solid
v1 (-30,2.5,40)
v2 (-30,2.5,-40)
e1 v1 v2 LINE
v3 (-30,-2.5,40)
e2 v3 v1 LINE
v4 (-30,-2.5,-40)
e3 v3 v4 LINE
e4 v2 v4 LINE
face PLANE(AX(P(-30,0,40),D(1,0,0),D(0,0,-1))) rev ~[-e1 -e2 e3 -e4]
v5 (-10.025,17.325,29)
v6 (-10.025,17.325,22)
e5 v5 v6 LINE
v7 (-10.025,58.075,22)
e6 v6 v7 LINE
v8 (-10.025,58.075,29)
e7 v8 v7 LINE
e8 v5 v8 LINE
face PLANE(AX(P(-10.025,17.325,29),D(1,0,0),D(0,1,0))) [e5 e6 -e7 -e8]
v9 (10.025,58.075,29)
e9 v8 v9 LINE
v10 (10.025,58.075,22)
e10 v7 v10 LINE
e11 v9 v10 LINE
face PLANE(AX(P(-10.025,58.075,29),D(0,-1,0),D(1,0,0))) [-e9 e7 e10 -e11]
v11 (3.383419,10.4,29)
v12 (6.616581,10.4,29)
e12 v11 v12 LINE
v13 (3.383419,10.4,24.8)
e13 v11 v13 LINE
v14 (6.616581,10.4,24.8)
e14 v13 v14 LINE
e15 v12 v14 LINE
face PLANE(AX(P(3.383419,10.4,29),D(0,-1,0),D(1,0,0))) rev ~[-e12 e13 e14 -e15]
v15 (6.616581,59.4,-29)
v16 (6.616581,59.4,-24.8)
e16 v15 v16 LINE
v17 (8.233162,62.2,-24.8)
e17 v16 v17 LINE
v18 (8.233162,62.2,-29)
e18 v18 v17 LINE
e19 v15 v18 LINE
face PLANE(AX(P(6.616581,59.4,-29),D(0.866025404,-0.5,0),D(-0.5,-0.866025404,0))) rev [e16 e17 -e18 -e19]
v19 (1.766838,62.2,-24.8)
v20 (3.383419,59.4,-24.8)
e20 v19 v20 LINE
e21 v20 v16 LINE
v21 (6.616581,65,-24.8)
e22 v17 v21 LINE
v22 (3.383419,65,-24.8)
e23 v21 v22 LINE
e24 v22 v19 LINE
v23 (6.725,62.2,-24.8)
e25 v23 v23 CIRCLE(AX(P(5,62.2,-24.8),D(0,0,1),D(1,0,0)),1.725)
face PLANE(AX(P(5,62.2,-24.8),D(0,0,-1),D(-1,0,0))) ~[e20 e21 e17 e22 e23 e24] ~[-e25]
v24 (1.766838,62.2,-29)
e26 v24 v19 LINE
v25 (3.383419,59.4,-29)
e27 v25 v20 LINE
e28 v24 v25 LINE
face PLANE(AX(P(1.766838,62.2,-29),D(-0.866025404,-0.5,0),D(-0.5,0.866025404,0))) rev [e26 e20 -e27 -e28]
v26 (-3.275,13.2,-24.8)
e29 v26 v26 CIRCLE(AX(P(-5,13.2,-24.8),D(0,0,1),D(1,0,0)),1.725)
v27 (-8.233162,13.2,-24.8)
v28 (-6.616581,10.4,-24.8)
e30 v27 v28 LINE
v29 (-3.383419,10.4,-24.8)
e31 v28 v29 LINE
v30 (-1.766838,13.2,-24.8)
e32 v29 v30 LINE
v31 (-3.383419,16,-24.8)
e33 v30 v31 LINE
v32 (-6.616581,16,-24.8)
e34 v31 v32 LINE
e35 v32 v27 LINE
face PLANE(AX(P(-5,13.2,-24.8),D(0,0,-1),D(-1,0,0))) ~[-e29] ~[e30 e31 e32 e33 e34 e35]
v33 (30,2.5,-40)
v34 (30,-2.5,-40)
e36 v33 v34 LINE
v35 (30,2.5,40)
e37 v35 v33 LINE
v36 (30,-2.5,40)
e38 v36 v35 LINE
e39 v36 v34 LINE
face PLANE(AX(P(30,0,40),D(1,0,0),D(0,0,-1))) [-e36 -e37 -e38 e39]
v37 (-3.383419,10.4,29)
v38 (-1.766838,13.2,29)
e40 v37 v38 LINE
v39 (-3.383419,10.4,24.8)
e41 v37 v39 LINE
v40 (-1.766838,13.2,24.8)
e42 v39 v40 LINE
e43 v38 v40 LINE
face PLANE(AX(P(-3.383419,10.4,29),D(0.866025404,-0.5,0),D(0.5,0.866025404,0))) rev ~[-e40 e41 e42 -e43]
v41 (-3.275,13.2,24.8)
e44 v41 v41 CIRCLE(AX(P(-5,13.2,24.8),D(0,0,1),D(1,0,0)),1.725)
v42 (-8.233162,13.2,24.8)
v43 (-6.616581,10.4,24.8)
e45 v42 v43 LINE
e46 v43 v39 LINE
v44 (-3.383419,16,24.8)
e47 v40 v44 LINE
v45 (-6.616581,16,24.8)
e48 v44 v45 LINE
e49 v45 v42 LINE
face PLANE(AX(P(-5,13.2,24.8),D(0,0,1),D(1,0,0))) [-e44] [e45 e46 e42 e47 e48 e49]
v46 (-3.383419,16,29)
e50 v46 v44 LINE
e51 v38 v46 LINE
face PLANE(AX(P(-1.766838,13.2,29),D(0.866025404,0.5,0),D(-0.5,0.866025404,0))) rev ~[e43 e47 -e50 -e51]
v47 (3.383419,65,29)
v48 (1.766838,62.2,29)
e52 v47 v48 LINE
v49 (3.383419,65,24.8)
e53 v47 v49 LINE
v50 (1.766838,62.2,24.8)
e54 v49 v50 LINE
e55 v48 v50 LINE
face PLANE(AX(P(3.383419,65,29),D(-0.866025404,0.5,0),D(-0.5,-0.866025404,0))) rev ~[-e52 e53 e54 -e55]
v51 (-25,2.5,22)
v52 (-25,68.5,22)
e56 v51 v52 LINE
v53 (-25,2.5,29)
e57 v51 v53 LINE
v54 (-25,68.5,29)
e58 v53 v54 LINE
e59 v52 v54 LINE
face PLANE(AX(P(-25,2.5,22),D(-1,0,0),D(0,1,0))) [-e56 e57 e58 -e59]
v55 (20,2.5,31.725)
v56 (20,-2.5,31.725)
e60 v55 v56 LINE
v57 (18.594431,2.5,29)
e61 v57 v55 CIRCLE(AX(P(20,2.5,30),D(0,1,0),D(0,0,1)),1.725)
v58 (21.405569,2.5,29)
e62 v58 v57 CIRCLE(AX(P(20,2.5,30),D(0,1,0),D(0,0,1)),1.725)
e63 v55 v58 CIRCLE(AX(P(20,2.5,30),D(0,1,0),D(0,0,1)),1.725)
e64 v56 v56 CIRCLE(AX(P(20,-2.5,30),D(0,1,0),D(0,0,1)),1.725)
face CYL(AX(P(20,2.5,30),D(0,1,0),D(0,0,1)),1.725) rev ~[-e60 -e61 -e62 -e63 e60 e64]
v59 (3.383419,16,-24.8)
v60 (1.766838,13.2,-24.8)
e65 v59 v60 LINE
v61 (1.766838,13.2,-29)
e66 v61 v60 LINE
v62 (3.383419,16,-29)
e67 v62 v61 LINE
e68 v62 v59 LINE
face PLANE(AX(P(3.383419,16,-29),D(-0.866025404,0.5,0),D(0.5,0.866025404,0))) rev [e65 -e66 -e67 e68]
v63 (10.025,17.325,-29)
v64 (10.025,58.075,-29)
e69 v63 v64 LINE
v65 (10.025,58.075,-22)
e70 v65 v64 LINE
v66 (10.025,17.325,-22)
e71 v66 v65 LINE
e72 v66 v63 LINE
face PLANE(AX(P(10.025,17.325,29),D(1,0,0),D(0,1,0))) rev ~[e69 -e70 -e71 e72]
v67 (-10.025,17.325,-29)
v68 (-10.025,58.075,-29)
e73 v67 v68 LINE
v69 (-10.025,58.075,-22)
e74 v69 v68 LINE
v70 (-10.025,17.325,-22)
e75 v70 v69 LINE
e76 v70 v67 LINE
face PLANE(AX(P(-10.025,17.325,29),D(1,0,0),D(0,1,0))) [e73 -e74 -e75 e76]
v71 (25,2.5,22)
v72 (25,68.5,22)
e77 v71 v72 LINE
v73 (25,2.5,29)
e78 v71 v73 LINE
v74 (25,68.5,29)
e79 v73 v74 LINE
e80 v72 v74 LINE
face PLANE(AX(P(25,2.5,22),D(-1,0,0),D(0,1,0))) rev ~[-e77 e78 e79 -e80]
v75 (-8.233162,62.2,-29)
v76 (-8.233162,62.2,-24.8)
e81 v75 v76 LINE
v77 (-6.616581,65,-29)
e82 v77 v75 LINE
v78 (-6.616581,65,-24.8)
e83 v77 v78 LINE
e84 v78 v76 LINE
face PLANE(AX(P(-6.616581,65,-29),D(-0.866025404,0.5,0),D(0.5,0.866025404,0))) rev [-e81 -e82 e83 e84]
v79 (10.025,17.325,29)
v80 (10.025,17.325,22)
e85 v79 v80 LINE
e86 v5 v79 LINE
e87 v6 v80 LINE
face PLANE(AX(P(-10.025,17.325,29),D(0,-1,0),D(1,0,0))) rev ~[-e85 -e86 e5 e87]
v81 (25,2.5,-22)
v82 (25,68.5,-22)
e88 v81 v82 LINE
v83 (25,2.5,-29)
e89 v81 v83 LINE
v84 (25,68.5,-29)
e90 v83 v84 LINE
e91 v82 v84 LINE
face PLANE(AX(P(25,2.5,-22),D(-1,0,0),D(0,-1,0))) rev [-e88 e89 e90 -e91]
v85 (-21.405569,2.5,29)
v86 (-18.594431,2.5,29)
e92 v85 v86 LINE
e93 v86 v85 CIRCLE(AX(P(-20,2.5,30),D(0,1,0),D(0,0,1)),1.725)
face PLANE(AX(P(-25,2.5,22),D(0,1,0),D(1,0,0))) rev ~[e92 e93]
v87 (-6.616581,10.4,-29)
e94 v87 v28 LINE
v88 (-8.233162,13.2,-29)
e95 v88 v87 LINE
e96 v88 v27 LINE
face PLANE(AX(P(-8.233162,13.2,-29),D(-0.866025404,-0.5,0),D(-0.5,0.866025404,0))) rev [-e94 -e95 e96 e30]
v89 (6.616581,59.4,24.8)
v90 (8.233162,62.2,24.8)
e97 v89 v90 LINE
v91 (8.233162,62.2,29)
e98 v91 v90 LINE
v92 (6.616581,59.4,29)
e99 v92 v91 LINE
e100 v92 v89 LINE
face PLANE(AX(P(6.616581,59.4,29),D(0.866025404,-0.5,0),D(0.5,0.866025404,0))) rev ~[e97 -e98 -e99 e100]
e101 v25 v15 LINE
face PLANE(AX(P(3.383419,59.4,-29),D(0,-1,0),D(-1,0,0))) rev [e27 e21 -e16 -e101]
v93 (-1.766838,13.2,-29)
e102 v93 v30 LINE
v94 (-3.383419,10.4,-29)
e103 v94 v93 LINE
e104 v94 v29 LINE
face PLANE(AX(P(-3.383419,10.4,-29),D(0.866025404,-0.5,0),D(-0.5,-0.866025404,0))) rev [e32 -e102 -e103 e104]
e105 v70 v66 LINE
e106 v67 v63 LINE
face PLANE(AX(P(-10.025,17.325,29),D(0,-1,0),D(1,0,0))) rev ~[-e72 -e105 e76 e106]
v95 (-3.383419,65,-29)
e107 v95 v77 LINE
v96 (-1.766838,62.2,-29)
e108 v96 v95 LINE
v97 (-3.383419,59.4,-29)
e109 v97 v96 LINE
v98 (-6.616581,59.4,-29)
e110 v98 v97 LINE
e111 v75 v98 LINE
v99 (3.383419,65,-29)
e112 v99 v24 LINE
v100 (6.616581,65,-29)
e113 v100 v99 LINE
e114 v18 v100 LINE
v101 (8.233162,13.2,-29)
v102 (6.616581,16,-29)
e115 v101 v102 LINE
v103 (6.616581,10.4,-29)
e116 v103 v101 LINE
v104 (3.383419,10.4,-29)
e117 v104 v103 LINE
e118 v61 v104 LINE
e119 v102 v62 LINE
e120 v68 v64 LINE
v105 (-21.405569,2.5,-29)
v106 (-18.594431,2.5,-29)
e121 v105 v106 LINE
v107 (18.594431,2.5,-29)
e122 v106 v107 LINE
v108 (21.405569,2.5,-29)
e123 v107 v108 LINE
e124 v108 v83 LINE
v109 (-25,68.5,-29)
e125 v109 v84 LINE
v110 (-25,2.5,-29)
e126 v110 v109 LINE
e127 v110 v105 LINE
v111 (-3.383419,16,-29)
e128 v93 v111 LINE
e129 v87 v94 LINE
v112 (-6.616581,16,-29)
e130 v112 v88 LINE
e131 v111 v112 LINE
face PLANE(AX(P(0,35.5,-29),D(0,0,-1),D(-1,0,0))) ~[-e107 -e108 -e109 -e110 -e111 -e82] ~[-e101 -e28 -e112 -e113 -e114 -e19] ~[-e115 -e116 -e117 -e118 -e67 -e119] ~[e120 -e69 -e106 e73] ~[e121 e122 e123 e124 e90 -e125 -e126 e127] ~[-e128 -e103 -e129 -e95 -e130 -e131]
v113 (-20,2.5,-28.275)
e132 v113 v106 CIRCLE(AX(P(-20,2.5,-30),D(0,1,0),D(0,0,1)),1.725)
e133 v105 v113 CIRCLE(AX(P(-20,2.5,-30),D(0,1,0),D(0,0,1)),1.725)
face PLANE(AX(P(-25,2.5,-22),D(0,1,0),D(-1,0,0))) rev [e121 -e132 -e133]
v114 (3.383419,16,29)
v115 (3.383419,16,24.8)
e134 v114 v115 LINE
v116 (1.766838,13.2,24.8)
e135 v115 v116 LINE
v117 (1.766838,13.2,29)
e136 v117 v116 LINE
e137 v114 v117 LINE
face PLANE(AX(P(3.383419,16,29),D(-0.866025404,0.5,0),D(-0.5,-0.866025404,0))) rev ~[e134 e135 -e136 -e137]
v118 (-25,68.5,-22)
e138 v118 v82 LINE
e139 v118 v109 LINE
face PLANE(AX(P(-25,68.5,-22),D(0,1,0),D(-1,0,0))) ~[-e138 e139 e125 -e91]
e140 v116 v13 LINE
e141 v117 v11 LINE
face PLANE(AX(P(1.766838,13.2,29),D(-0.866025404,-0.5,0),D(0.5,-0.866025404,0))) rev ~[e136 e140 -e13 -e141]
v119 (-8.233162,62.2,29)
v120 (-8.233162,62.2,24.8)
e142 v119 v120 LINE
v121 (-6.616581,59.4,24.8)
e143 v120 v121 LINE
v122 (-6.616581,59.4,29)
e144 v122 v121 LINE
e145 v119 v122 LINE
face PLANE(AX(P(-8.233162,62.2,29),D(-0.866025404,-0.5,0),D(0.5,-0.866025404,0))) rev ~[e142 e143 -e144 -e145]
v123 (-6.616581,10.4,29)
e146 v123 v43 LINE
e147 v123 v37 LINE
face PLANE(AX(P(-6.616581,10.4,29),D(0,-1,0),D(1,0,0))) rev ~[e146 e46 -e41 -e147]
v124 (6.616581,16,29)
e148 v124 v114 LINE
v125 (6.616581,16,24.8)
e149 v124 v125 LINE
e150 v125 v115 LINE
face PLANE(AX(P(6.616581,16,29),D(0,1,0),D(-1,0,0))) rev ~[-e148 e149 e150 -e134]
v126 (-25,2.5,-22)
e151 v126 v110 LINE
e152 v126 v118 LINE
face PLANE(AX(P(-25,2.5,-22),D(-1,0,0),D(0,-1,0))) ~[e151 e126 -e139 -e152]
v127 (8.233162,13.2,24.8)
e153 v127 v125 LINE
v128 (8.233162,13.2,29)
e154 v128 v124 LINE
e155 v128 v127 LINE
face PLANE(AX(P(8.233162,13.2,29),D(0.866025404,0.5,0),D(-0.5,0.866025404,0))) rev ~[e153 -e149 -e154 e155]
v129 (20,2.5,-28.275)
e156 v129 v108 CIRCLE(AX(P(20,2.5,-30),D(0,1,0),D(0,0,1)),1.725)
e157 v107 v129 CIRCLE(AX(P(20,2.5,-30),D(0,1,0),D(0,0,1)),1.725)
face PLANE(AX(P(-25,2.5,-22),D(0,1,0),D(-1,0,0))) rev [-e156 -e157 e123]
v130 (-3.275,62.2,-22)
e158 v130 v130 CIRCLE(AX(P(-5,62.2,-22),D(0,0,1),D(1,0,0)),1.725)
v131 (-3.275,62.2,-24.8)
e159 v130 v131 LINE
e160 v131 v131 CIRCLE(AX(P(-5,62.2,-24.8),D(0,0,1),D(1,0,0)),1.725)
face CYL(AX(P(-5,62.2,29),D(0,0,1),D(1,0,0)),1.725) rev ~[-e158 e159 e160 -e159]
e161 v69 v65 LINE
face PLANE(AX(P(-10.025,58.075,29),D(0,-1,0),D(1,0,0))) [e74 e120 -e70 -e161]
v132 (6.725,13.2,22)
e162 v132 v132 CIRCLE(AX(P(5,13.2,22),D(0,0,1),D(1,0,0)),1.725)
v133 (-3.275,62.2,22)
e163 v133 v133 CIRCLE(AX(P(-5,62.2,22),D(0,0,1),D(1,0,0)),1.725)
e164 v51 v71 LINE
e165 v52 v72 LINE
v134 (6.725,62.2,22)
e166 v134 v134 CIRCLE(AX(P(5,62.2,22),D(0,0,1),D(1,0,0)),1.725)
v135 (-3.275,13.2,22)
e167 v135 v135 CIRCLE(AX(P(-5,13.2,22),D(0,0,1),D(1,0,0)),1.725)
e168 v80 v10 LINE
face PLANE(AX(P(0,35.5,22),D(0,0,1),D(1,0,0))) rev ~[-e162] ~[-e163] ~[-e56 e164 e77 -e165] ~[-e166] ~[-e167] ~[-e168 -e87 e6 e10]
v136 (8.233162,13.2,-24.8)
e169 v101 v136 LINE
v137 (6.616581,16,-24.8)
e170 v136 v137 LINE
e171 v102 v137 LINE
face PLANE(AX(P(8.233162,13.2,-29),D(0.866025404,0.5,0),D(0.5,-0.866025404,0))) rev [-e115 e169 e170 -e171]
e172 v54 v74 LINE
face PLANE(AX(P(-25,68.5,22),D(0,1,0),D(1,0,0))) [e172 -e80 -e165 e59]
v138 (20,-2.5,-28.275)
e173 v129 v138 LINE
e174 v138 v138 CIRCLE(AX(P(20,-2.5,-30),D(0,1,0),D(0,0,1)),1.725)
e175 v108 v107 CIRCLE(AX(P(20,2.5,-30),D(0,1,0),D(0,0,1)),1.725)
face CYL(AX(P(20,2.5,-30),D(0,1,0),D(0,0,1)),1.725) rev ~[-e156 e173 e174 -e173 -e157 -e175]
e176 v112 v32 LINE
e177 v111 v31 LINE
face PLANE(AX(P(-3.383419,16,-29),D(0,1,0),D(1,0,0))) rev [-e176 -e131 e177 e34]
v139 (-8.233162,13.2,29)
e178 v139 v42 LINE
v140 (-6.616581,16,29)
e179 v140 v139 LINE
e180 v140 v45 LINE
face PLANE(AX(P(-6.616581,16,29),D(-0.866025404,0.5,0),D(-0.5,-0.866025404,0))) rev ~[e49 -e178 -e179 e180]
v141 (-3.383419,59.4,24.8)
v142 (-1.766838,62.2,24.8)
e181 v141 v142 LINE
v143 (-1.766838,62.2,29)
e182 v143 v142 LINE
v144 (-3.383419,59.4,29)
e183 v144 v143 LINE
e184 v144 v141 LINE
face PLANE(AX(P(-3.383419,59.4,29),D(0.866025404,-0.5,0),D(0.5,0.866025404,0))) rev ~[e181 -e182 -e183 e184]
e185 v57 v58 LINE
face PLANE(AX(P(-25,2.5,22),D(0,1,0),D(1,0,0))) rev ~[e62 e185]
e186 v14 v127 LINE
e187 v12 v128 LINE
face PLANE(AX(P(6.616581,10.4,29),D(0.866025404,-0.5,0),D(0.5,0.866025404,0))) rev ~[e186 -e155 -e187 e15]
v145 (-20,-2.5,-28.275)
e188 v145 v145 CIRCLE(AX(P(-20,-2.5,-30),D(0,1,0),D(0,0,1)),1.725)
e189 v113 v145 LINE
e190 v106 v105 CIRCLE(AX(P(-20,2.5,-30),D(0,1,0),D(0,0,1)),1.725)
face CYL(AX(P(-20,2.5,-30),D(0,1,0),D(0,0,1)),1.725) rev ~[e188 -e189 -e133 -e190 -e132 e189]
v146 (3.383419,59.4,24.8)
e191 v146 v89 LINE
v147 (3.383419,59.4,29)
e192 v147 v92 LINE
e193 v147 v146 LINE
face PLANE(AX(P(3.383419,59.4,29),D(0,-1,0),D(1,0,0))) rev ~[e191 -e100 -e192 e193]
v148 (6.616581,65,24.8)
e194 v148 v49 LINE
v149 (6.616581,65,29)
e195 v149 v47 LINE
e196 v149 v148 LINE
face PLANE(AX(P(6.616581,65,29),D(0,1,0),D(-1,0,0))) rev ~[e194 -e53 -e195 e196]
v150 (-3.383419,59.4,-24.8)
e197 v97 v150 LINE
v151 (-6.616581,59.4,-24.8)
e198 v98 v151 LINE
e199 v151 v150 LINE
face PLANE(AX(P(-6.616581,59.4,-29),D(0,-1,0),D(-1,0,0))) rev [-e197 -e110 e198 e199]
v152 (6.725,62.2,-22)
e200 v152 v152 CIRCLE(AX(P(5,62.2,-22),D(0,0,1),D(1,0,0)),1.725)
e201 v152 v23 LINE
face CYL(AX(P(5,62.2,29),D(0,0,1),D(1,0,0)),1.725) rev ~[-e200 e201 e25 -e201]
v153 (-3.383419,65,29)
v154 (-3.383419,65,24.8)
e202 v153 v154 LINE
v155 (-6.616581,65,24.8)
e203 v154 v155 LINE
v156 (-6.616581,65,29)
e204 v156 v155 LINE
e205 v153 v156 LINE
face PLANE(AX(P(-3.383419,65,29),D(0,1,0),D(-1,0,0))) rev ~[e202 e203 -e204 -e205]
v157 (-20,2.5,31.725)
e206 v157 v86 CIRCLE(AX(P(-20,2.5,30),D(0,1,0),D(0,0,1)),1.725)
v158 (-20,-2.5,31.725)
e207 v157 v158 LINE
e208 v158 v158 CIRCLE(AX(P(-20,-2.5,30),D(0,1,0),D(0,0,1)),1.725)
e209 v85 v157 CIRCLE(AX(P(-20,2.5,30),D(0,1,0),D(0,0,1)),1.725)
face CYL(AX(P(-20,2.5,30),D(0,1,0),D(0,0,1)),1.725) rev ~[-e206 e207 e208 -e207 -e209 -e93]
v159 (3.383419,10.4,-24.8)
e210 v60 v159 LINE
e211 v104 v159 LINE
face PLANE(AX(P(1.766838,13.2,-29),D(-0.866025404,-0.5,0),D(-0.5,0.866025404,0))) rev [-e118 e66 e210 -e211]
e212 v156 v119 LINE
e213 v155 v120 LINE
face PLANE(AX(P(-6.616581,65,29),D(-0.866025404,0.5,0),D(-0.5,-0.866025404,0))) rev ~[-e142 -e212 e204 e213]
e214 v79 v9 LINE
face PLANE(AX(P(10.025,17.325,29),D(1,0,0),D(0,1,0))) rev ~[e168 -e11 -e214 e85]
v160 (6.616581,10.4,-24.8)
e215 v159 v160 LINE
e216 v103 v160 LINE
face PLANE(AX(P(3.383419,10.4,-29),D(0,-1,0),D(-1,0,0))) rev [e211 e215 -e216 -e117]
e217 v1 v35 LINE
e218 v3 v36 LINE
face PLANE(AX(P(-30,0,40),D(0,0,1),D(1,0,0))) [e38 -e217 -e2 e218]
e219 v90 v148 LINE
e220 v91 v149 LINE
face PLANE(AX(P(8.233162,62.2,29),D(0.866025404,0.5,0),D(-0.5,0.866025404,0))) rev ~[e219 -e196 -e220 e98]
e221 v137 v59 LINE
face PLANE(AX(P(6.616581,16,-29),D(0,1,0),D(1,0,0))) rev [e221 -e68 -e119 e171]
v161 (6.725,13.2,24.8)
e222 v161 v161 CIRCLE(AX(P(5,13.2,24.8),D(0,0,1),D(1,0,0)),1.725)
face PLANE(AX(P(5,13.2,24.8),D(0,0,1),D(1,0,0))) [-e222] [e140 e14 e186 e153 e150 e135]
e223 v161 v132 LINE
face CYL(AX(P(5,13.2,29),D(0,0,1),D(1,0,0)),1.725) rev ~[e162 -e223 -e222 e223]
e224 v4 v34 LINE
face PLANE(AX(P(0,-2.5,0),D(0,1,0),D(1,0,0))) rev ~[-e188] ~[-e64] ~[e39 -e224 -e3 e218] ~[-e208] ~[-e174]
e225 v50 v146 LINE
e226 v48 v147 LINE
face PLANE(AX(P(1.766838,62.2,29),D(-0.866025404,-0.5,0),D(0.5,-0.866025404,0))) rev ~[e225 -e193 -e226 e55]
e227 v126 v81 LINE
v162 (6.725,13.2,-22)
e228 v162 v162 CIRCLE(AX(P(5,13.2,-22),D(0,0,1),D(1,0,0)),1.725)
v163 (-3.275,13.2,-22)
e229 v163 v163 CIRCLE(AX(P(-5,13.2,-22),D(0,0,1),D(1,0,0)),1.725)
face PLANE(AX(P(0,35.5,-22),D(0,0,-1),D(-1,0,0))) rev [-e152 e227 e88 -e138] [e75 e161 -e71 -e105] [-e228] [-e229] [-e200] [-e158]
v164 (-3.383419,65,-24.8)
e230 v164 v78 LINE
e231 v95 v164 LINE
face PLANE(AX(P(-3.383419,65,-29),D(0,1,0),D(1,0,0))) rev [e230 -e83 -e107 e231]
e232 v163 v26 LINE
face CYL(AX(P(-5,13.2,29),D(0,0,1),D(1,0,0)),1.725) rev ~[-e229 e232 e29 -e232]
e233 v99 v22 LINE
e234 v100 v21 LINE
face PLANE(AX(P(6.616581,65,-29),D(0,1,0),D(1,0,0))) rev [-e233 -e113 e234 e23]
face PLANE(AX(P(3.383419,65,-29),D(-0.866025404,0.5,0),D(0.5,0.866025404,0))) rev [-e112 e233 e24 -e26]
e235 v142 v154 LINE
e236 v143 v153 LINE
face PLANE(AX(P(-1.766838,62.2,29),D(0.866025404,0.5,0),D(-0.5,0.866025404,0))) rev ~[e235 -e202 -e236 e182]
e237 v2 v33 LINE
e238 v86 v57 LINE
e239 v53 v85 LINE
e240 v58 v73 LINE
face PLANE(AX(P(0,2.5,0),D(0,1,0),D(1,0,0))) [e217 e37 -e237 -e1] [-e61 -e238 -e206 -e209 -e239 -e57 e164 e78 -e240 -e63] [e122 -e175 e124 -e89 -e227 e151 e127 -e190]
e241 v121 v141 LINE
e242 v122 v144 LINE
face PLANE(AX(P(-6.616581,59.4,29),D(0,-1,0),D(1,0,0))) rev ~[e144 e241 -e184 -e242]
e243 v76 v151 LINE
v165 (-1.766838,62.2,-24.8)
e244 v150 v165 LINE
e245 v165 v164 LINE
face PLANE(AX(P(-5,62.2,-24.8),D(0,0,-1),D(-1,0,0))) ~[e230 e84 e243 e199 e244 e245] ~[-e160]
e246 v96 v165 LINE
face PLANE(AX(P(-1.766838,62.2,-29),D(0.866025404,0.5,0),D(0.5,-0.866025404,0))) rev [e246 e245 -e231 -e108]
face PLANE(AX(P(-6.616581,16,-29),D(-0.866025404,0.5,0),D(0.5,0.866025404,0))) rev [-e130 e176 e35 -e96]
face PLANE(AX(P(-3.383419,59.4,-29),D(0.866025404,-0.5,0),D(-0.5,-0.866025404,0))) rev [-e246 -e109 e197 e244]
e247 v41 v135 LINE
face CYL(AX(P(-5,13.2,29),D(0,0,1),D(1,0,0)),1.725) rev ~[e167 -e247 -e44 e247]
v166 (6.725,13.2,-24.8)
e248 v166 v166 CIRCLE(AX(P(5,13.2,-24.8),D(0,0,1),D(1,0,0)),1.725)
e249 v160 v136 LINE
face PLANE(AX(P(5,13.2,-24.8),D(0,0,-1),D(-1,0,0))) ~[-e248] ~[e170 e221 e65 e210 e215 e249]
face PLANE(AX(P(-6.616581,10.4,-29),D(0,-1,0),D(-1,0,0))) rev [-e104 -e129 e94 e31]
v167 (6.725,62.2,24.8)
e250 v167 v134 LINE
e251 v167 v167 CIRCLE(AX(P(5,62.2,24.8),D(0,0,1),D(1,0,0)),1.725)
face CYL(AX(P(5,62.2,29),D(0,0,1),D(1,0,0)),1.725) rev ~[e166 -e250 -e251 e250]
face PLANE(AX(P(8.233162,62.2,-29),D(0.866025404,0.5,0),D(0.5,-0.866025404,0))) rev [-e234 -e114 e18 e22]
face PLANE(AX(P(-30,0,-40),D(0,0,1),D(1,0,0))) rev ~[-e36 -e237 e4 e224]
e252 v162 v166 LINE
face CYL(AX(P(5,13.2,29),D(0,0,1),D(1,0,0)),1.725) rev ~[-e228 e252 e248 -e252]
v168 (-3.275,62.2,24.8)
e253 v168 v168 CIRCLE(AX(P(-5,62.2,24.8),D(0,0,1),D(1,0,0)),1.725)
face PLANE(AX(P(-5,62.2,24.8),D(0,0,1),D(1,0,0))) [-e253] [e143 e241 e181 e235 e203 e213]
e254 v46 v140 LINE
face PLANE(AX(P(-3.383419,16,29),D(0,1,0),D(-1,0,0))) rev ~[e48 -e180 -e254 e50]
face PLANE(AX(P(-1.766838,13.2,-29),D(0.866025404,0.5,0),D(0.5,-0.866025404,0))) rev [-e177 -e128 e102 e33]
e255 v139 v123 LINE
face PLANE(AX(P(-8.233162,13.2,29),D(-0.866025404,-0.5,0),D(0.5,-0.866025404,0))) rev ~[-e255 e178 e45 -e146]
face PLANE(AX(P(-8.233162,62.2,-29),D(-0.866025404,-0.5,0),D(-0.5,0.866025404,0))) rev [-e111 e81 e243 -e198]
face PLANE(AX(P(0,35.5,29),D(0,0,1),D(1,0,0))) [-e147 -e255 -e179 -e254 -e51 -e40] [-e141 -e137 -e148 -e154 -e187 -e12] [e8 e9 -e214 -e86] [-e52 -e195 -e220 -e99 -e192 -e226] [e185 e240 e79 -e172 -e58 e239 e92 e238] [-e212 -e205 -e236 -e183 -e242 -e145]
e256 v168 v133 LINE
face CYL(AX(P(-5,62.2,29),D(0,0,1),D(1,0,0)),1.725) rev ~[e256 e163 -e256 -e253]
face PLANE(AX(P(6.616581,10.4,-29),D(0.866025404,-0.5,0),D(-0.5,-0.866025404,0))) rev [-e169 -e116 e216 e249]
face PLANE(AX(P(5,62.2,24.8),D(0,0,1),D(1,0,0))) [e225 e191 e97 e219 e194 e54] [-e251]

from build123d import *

# Parameters (mm, degrees)
SKETCH1_W           = 60
SKETCH1_H           = 80
BOSS_EXTRUDE1_DEPTH = 2.5
SKETCH2_R           = 1.725
CUT_EXTRUDE1_DEPTH  = 51.249378106
SKETCH3_W           = 50
SKETCH3_H           = 66
BOSS_EXTRUDE2_DEPTH = 7
SKETCH4_W           = 20.05
SKETCH4_H           = 40.75
CUT_EXTRUDE2_DEPTH  = 102.750921372
SKETCH5_R           = 1.725
CUT_EXTRUDE3_DEPTH  = 102.750921372
CUT_EXTRUDE4_DEPTH  = 4.2


with BuildPart() as part:
    # Sketch1 → Boss-Extrude1 (new, symmetric)
    with BuildSketch(Plane(origin=(0, 0, 0), x_dir=(1, 0, 0), z_dir=(0, 1, 0))):
        Rectangle(SKETCH1_W, SKETCH1_H)
    extrude(amount=BOSS_EXTRUDE1_DEPTH, both=True)

    # Sketch2 → Cut-Extrude1 (cut, through all)
    with BuildSketch(Plane(origin=(0, 2.5, 0), x_dir=(1, 0, 0), z_dir=(0, 1, 0))):
        with Locations(Location((-20, 30, 0), (0, 0, 270))):
            Circle(SKETCH2_R)
        with Locations(Location((20, 30, 0), (0, 0, 270))):
            Circle(SKETCH2_R)
        with Locations(Location((20, -30, 0), (0, 0, 270))):
            Circle(SKETCH2_R)
        with Locations(Location((-20, -30, 0), (0, 0, 270))):
            Circle(SKETCH2_R)
    extrude(amount=-CUT_EXTRUDE1_DEPTH, mode=Mode.SUBTRACT)

    # Sketch3 → Boss-Extrude2 (add)
    with BuildSketch(Plane.XY.offset(22)):
        with Locations((0, 35.5)):
            Rectangle(SKETCH3_W, SKETCH3_H)
    boss_extrude2 = extrude(amount=BOSS_EXTRUDE2_DEPTH)

    # Mirror1: Boss-Extrude2 across plane
    add(boss_extrude2.mirror(Plane.XY))

    # Sketch4 → Cut-Extrude2 (cut, through all)
    with BuildSketch(Plane.XY.offset(29)):
        with Locations((0, 37.7)):
            Rectangle(SKETCH4_W, SKETCH4_H)
    extrude(amount=-CUT_EXTRUDE2_DEPTH, mode=Mode.SUBTRACT)

    # Sketch5 → Cut-Extrude3 (cut, through all)
    with BuildSketch(Plane.XY.offset(29)):
        with Locations((-5, 62.2)):
            Circle(SKETCH5_R)
        with Locations((5, 62.2)):
            Circle(SKETCH5_R)
        with Locations((-5, 13.2)):
            Circle(SKETCH5_R)
        with Locations((5, 13.2)):
            Circle(SKETCH5_R)
    extrude(amount=-CUT_EXTRUDE3_DEPTH, mode=Mode.SUBTRACT)

    # Sketch6 → Cut-Extrude4 (cut)
    with BuildSketch(Plane.XY.offset(29)):
        Polygon((-1.766838493, 62.2), (-3.383419246, 65), (-6.616580754, 65), (-8.233161507, 62.2), (-6.616580754, 59.4), (-3.383419246, 59.4), align=None)
        Polygon((1.766838493, 62.2), (3.383419246, 59.4), (6.616580754, 59.4), (8.233161507, 62.2), (6.616580754, 65), (3.383419246, 65), align=None)
        Polygon((-1.766838493, 13.2), (-3.383419246, 16), (-6.616580754, 16), (-8.233161507, 13.2), (-6.616580754, 10.4), (-3.383419246, 10.4), align=None)
        Polygon((8.233161507, 13.2), (6.616580754, 16), (3.383419246, 16), (1.766838493, 13.2), (3.383419246, 10.4), (6.616580754, 10.4), align=None)
    cut_extrude4 = extrude(amount=-CUT_EXTRUDE4_DEPTH, mode=Mode.SUBTRACT)

    # Mirror3: Cut-Extrude4 across plane
    add(cut_extrude4.mirror(Plane.XY), mode=Mode.SUBTRACT)


solid = part.part
